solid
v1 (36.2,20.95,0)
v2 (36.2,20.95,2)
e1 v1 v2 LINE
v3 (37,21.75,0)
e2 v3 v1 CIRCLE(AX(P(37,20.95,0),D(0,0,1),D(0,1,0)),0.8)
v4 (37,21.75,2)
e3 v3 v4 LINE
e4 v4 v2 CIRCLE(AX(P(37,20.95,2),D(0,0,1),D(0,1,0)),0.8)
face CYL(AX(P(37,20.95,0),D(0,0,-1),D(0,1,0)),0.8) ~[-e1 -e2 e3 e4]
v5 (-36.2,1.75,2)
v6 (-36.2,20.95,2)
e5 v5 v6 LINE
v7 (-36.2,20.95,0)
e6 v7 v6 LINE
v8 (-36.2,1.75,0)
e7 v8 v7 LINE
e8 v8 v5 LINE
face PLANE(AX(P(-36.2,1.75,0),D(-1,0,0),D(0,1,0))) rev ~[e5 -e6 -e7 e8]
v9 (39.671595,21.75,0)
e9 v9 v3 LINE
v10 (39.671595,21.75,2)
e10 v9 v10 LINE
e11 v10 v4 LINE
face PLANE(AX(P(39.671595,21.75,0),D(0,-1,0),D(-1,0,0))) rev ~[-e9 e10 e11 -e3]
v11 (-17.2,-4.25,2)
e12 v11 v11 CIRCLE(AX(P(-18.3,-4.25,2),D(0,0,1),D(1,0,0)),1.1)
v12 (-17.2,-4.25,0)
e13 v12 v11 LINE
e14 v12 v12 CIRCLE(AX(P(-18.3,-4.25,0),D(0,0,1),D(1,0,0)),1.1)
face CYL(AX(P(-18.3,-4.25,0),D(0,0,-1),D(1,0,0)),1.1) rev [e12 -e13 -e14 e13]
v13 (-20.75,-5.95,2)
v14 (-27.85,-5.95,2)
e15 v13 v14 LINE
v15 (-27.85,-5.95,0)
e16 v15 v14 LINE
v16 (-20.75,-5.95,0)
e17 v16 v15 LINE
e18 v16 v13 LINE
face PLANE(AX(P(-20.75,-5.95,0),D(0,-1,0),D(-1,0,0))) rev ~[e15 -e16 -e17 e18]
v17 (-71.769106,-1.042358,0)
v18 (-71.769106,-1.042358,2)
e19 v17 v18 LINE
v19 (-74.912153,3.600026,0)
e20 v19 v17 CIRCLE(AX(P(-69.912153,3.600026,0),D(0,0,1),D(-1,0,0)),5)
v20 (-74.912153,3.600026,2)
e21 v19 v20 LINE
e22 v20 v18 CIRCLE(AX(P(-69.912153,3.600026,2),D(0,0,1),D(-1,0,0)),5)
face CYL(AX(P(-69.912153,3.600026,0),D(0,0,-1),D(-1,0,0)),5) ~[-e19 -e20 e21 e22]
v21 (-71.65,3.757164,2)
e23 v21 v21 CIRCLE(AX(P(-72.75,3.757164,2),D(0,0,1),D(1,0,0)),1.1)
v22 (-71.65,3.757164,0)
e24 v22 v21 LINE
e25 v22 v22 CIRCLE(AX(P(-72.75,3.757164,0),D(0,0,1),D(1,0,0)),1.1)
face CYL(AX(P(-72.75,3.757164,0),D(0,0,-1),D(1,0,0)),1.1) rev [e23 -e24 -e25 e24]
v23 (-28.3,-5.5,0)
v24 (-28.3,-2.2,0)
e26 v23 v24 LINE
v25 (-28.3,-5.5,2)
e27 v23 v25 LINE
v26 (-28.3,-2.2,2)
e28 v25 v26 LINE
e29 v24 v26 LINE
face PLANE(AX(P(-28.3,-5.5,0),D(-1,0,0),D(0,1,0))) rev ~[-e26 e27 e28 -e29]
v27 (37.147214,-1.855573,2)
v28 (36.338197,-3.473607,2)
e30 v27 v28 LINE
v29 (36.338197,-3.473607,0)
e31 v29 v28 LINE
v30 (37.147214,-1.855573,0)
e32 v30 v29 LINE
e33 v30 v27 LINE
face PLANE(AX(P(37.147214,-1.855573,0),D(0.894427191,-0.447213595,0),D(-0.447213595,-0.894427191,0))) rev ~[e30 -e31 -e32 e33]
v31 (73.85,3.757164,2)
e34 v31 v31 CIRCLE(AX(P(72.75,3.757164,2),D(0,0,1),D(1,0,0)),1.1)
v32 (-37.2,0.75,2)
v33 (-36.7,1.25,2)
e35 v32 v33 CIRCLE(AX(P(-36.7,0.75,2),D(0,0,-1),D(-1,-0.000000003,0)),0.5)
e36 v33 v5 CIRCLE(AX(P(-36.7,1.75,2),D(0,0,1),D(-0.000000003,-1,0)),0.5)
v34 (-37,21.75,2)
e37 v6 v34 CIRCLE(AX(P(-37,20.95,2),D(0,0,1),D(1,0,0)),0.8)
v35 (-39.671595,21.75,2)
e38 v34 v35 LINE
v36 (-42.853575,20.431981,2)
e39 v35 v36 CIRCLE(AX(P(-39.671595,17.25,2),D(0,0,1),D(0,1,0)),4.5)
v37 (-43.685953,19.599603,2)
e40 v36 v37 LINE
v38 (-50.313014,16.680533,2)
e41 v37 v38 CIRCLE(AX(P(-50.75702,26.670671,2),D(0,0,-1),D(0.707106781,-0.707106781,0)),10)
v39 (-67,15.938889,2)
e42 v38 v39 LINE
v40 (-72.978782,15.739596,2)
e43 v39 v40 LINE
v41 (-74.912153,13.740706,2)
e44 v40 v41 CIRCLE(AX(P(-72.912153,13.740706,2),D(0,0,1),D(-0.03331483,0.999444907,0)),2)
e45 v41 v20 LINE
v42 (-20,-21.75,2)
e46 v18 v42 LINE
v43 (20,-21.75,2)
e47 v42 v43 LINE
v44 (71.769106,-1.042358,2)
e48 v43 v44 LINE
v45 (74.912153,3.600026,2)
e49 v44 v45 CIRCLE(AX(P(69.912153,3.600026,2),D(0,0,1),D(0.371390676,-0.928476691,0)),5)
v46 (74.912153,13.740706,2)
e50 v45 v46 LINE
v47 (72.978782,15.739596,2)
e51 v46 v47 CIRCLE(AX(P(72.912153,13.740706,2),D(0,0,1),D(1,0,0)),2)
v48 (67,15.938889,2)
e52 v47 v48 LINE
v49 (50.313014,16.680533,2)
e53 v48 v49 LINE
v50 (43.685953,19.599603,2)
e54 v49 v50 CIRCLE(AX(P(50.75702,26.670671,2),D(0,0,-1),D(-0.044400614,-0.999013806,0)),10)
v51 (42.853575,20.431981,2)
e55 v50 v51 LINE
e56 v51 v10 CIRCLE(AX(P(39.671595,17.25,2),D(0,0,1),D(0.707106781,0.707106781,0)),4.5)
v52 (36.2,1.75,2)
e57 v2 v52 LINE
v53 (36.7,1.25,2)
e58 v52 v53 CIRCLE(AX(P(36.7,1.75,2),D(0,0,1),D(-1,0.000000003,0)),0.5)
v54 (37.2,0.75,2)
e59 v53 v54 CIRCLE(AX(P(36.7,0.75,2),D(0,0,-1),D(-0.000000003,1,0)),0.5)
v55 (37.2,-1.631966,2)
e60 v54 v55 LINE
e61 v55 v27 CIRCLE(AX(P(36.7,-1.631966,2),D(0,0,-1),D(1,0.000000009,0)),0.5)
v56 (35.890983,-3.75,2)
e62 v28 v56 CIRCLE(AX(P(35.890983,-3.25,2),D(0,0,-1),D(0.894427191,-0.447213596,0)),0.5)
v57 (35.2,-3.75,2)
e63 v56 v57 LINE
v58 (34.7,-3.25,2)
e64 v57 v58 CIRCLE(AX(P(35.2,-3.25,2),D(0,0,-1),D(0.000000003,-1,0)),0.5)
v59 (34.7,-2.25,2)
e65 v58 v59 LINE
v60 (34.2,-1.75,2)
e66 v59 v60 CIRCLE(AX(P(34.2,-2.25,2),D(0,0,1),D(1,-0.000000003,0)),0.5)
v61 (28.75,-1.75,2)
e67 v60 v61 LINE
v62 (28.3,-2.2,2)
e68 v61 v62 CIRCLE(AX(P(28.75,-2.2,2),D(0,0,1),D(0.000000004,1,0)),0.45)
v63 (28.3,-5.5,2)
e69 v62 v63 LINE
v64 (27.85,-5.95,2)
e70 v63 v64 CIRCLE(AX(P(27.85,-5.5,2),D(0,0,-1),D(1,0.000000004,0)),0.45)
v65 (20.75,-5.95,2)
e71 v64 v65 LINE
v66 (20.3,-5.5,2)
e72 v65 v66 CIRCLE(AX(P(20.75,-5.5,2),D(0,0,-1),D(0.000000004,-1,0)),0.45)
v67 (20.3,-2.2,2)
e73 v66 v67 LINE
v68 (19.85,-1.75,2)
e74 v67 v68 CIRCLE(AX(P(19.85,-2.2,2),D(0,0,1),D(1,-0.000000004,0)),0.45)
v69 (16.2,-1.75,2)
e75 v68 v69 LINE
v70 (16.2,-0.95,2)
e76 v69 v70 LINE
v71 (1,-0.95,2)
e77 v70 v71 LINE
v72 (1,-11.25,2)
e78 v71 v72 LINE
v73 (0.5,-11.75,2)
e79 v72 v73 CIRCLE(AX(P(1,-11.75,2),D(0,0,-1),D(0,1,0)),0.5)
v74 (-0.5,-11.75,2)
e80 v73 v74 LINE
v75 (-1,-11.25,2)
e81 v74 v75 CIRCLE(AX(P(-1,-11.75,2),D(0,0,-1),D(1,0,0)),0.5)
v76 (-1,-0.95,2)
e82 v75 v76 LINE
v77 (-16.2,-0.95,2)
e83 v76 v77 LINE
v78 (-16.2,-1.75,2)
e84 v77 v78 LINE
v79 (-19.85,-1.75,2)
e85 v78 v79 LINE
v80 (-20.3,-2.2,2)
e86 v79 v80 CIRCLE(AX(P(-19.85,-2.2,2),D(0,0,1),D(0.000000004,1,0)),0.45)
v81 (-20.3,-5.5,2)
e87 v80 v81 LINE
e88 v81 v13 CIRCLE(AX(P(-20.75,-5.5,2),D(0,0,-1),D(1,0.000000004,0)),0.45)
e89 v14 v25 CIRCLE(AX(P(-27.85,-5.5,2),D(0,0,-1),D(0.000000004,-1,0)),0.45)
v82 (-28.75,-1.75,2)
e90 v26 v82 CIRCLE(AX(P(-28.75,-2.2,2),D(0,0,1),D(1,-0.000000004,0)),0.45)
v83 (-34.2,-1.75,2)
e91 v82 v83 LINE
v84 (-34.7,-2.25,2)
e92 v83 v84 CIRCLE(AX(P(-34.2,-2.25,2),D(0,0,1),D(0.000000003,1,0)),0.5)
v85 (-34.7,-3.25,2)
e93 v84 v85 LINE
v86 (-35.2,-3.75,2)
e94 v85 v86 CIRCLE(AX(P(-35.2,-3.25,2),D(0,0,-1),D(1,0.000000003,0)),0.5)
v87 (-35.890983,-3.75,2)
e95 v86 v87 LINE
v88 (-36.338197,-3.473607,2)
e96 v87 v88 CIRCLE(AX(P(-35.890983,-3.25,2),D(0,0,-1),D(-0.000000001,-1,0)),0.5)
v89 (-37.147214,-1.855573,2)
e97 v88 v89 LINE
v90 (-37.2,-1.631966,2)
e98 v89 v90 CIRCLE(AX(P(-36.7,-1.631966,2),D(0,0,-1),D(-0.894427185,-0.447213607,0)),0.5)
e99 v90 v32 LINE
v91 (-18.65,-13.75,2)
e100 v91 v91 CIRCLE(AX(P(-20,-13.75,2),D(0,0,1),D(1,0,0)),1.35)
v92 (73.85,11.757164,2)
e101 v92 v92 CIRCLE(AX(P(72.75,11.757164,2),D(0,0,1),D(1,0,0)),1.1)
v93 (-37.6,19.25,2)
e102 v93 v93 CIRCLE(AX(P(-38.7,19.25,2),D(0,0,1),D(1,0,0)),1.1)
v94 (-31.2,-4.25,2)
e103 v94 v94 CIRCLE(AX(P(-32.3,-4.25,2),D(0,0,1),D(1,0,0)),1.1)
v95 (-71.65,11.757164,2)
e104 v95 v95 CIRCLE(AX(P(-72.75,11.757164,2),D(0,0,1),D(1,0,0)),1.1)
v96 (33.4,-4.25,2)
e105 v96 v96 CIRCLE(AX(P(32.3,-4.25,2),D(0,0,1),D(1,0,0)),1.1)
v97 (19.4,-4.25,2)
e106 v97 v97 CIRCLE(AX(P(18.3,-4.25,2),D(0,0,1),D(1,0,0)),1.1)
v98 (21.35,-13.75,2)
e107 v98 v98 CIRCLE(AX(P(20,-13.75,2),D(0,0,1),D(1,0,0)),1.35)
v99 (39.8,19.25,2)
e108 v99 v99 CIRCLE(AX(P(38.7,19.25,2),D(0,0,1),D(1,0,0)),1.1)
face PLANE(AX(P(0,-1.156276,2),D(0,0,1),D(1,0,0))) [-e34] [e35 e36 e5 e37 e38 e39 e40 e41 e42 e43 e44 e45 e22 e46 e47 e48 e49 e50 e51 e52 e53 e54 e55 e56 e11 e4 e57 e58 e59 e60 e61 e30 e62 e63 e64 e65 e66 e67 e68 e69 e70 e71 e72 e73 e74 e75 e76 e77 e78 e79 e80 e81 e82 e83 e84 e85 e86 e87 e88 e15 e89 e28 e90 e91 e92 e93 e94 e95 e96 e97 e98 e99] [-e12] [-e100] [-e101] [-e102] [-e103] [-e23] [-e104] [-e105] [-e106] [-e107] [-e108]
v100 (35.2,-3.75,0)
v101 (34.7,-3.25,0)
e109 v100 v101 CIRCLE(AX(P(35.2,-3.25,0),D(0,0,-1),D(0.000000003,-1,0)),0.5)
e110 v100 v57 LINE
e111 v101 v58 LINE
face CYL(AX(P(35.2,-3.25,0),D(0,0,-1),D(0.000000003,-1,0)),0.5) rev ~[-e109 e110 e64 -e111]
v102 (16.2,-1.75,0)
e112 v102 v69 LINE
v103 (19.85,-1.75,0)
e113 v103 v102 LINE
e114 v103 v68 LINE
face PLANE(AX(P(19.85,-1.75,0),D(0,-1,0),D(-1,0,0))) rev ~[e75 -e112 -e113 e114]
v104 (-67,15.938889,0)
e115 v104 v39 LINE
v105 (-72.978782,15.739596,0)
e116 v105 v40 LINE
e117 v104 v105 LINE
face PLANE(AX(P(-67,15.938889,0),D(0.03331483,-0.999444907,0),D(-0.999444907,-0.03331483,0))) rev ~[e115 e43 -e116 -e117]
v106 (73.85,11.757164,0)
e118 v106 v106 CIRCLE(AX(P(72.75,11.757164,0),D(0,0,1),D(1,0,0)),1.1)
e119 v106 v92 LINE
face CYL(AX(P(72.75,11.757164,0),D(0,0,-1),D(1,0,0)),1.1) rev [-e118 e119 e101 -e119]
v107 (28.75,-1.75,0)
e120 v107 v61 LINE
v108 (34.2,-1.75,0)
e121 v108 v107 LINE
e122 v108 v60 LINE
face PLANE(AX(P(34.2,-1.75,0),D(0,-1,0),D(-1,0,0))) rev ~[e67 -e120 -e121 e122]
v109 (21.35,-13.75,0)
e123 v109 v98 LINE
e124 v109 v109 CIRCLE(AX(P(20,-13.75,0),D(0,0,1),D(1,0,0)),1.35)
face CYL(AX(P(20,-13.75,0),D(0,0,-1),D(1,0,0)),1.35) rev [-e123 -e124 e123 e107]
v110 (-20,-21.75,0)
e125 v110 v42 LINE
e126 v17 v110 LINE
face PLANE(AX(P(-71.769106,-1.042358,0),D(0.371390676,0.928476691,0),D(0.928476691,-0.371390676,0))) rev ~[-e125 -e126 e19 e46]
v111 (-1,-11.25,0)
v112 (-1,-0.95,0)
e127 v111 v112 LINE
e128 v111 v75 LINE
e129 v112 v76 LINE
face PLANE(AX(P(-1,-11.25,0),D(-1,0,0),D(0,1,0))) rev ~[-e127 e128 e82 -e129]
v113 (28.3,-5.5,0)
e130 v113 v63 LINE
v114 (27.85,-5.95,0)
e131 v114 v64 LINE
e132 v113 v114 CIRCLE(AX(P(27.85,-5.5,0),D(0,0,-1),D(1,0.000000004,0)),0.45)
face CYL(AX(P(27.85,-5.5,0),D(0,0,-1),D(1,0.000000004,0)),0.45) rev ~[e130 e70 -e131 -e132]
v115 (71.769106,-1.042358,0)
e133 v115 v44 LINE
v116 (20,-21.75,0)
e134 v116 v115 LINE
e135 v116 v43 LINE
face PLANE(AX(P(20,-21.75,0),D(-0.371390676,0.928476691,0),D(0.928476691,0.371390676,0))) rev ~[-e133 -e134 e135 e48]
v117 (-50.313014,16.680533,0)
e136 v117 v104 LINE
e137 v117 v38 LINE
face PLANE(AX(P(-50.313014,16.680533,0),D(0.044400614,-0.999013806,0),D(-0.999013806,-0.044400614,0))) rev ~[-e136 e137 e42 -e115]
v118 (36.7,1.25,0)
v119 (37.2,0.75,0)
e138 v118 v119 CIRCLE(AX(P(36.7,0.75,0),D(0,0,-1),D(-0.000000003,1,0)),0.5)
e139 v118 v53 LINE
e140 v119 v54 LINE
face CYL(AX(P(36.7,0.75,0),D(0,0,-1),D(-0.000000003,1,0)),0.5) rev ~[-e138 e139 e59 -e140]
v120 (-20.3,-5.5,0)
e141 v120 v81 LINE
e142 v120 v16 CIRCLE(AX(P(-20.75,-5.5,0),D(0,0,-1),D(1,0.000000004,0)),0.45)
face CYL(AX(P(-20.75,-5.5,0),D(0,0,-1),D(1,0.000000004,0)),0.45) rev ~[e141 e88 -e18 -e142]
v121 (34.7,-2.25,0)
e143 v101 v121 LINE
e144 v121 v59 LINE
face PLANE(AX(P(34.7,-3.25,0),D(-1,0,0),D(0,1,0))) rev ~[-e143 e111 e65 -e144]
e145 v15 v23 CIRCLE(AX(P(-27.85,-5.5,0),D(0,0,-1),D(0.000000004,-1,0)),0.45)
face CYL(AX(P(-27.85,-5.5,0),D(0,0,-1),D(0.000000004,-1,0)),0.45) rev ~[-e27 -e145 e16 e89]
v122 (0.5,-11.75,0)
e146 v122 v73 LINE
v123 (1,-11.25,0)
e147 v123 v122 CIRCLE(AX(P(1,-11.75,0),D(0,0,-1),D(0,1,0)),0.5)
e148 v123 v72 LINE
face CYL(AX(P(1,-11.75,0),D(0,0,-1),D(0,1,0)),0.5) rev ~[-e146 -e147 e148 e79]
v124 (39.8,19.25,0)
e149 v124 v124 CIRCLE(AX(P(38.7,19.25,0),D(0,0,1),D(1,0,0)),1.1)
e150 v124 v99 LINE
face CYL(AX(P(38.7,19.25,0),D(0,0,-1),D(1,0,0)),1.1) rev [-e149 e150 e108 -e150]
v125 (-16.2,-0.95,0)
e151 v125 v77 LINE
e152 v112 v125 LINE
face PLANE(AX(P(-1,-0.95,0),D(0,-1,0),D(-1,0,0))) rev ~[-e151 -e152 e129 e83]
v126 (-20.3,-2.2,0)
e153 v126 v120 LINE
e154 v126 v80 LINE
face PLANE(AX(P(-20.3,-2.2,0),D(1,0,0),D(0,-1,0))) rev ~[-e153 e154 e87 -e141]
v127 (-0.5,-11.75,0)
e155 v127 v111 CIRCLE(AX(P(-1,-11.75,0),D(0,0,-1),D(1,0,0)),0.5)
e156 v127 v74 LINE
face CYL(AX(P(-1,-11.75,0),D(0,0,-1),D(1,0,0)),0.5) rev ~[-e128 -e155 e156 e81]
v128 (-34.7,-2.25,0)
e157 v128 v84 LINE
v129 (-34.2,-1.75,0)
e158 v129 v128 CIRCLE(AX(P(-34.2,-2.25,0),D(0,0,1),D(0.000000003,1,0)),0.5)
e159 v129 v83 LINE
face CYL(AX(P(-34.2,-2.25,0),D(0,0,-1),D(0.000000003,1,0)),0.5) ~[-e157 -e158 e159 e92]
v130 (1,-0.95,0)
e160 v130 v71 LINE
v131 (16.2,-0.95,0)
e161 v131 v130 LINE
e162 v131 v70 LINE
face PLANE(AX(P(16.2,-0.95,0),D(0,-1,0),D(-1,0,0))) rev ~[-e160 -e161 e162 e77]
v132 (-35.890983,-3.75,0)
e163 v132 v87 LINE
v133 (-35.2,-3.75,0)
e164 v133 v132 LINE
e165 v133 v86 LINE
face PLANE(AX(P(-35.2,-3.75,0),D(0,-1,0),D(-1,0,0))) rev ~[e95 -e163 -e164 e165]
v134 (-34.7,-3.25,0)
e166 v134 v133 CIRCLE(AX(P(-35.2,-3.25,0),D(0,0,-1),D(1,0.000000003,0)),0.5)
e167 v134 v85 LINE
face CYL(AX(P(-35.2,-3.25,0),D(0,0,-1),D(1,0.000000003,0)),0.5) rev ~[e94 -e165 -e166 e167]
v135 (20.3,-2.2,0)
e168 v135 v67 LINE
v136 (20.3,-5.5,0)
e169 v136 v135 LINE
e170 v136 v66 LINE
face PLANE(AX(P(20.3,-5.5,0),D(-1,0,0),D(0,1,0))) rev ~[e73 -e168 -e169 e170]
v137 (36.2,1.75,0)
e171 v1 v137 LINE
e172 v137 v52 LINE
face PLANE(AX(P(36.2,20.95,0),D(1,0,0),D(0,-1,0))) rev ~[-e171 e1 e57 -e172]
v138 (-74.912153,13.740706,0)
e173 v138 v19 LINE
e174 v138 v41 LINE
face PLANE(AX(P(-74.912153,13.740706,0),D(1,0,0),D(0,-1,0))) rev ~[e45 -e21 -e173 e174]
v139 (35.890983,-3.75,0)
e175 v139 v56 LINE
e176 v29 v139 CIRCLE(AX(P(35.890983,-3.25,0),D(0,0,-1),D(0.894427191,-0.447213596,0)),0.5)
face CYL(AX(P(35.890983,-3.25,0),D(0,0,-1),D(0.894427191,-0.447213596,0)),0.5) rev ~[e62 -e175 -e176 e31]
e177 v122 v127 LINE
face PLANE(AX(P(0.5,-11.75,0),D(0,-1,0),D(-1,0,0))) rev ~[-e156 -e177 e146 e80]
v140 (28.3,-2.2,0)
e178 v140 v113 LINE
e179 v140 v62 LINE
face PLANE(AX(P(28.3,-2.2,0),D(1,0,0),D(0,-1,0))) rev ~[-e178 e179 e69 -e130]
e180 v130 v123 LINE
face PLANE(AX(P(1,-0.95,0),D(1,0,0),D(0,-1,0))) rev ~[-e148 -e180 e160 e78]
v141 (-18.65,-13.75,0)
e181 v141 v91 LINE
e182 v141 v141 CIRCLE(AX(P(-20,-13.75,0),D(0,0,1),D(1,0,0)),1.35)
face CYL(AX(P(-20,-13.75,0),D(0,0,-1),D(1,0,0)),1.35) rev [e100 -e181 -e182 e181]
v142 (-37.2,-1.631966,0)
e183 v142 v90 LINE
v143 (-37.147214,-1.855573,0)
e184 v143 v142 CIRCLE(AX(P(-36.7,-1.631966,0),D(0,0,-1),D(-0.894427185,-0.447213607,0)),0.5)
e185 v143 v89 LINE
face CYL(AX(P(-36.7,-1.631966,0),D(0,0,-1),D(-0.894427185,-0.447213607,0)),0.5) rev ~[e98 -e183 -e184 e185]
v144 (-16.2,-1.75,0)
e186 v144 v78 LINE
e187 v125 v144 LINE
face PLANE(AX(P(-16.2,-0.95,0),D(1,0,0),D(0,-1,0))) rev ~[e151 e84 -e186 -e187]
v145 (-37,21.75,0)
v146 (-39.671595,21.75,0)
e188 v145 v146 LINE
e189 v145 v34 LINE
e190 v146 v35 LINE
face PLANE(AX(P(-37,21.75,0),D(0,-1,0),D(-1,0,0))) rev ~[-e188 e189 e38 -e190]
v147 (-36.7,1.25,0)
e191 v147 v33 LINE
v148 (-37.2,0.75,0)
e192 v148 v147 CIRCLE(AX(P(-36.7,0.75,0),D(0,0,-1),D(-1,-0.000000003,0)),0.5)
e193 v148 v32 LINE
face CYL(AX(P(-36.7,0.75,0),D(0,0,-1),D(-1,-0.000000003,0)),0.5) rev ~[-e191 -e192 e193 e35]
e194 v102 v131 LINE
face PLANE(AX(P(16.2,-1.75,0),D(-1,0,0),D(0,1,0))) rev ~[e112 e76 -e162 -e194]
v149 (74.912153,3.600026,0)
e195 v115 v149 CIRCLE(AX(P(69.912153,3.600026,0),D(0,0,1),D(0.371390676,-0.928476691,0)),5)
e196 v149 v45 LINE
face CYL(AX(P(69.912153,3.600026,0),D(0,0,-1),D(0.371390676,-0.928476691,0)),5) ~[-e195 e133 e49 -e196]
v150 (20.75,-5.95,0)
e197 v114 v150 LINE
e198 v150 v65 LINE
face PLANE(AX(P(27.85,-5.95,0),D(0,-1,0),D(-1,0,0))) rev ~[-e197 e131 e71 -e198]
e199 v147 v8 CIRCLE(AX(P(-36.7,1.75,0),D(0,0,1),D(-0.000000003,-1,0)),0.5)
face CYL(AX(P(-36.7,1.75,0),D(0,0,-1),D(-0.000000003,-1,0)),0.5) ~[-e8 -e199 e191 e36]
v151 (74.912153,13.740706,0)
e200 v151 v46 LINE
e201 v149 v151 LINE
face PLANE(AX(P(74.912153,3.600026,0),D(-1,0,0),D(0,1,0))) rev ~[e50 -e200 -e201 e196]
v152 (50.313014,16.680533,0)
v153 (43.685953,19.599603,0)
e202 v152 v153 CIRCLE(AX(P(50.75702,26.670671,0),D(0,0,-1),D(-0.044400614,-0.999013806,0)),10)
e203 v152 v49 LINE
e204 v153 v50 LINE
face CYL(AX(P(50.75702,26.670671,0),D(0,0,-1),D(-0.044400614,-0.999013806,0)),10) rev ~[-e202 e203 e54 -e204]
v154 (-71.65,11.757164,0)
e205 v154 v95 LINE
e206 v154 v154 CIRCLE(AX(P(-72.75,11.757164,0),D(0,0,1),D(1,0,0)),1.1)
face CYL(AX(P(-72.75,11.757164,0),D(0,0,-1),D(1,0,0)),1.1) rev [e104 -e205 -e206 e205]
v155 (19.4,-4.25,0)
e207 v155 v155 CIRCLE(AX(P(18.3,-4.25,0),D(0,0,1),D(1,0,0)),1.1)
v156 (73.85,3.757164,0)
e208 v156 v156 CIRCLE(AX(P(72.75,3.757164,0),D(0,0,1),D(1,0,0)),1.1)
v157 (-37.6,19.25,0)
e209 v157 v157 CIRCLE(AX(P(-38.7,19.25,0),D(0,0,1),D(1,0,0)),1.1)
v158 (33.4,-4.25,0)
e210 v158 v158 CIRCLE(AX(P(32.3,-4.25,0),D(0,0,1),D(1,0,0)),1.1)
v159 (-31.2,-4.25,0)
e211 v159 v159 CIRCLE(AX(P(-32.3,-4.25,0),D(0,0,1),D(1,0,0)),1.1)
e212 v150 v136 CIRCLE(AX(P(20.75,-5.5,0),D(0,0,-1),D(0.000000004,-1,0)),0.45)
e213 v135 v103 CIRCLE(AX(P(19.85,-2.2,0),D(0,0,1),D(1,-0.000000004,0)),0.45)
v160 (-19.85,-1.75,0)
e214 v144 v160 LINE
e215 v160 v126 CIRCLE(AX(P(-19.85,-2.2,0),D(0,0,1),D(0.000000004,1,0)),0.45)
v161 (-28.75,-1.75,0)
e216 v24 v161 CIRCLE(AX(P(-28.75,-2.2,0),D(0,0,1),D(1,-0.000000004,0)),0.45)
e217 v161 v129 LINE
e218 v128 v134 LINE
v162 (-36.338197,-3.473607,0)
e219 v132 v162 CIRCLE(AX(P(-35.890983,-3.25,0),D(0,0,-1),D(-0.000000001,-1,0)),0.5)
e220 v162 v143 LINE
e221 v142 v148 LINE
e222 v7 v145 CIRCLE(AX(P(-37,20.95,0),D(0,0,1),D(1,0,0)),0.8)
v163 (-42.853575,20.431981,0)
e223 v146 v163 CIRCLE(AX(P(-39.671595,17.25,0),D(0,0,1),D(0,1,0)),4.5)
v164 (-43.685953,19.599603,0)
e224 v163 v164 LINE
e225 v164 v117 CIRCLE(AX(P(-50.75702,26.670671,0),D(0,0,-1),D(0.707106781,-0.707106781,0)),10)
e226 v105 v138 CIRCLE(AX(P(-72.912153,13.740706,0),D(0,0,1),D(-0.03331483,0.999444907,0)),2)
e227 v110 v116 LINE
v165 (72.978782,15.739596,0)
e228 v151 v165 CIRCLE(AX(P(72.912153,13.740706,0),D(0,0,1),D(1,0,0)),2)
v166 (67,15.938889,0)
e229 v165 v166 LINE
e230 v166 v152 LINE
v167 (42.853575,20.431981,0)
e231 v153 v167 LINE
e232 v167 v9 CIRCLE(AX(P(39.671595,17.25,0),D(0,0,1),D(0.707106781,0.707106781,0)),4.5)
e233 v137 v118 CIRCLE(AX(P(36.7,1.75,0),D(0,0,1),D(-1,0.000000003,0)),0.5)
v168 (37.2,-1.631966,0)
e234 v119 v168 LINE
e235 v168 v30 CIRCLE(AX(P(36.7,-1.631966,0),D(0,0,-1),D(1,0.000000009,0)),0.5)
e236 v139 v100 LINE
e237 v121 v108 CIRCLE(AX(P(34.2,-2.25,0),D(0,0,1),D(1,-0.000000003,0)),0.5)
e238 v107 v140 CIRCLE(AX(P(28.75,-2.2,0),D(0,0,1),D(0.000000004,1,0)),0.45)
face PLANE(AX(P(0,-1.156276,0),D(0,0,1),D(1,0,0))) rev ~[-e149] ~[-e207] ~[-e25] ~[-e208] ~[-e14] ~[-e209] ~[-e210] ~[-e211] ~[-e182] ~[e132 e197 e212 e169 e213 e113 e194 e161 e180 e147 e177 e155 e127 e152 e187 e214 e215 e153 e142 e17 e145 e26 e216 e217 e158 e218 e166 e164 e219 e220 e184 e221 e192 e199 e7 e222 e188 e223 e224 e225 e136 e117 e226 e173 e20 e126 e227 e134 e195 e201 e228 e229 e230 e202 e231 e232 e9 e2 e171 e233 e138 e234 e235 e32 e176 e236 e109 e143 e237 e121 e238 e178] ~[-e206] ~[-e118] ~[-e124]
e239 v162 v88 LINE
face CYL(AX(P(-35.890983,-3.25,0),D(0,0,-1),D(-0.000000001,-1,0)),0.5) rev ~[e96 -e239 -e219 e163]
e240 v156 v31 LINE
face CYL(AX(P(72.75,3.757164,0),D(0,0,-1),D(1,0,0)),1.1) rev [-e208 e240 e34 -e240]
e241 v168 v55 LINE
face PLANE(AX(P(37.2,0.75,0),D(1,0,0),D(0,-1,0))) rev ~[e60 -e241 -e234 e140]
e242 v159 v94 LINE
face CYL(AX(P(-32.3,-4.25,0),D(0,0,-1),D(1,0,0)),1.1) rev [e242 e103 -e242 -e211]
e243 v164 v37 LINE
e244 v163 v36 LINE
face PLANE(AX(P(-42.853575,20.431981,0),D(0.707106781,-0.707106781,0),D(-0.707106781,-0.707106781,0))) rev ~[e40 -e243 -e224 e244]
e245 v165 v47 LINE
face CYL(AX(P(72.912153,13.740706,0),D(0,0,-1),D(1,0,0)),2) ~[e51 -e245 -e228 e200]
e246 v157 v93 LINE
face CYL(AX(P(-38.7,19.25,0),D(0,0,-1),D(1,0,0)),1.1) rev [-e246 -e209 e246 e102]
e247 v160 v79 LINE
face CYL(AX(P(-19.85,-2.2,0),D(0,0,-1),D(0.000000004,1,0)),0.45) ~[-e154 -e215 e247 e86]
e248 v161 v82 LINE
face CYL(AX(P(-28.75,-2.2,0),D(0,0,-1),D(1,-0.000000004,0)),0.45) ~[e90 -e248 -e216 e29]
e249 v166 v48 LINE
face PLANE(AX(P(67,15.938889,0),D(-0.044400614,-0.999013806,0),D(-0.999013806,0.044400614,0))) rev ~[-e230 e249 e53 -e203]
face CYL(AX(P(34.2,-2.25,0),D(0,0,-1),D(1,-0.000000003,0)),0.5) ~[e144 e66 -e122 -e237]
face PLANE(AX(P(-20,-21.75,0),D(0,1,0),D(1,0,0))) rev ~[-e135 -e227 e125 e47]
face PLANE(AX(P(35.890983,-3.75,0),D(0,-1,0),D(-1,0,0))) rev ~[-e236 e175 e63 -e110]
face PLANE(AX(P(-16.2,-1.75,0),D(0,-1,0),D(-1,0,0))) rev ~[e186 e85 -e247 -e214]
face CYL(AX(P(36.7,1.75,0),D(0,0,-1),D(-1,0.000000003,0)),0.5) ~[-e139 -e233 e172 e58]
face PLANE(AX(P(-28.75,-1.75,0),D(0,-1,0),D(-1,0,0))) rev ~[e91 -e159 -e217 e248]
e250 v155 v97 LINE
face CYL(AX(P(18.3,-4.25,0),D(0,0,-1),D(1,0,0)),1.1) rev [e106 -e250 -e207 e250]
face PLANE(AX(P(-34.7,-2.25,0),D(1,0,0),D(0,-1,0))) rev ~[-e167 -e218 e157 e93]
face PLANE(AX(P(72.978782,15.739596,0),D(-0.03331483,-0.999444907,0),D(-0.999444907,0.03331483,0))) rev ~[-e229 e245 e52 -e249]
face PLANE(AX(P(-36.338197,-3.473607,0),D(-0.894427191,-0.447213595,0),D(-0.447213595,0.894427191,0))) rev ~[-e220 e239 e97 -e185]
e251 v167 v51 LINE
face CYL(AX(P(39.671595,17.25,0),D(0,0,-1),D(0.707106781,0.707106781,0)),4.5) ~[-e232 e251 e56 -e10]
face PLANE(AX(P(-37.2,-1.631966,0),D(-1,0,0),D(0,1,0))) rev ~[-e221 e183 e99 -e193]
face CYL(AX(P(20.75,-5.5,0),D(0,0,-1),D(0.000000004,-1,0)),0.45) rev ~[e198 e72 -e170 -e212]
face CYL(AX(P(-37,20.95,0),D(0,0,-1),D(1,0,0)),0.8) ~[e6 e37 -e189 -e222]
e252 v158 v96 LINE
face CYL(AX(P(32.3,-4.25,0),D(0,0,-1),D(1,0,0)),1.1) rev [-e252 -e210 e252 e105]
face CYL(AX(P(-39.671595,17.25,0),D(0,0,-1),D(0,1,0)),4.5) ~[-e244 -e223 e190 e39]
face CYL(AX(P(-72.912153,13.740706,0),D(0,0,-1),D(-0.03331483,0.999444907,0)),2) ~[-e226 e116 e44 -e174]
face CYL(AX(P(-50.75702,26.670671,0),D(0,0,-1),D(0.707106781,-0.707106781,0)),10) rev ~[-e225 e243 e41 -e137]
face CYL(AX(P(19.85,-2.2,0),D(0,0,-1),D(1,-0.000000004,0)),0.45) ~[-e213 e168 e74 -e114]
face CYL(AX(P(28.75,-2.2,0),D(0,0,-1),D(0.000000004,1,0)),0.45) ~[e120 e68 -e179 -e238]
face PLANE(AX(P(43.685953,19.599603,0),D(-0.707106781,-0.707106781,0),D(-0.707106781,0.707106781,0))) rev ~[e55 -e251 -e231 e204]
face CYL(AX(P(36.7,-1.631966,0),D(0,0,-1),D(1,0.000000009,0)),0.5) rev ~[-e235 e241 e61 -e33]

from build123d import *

# Parameters (mm, degrees)
SKETCH_1_R      = 1.1
SKETCH_1_R_2    = 1.35
EXTRUDE_1_DEPTH = 2


with BuildPart() as part:
    # 草图1 → 凸台-拉伸1 (new body)
    with BuildSketch(Plane.XY):
        with BuildLine():
            Line((36.2, 20.95), (36.2, 1.75))
            ThreePointArc((36.2, 1.75), (36.346446609, 1.396446609), (36.7, 1.25))
            ThreePointArc((36.7, 1.25), (37.053553391, 1.103553391), (37.2, 0.75))
            Line((37.2, 0.75), (37.2, -1.631966011))
            ThreePointArc((37.2, -1.631966011), (37.186624495, -1.746842472), (37.147213595, -1.855572809))
            Line((37.147213595, -1.855572809), (36.338196601, -3.473606798))
            ThreePointArc((36.338196601, -3.473606798), (36.153848562, -3.675325404), (35.890983006, -3.75))
            Line((35.890983006, -3.75), (35.2, -3.75))
            ThreePointArc((35.2, -3.75), (34.846446609, -3.603553391), (34.7, -3.25))
            Line((34.7, -3.25), (34.7, -2.25))
            ThreePointArc((34.7, -2.25), (34.553553391, -1.896446609), (34.2, -1.75))
            Line((34.2, -1.75), (28.75, -1.75))
            ThreePointArc((28.75, -1.75), (28.431801948, -1.881801948), (28.3, -2.2))
            Line((28.3, -2.2), (28.3, -5.5))
            ThreePointArc((28.3, -5.5), (28.168198052, -5.818198052), (27.85, -5.95))
            Line((27.85, -5.95), (20.75, -5.95))
            ThreePointArc((20.75, -5.95), (20.431801948, -5.818198052), (20.3, -5.5))
            Line((20.3, -5.5), (20.3, -2.2))
            ThreePointArc((20.3, -2.2), (20.168198052, -1.881801948), (19.85, -1.75))
            Line((19.85, -1.75), (16.2, -1.75))
            Line((16.2, -1.75), (16.2, -0.95))
            Line((16.2, -0.95), (1, -0.95))
            Line((1, -0.95), (1, -11.25))
            ThreePointArc((1, -11.25), (1.353553391, -12.103553391), (0.5, -11.75))
            Line((0.5, -11.75), (-0.5, -11.75))
            ThreePointArc((-0.5, -11.75), (-1.353553391, -12.103553391), (-1, -11.25))
            Line((-1, -11.25), (-1, -0.95))
            Line((-1, -0.95), (-16.2, -0.95))
            Line((-16.2, -0.95), (-16.2, -1.75))
            Line((-16.2, -1.75), (-19.85, -1.75))
            ThreePointArc((-19.85, -1.75), (-20.168198052, -1.881801948), (-20.3, -2.2))
            Line((-20.3, -2.2), (-20.3, -5.5))
            ThreePointArc((-20.3, -5.5), (-20.431801948, -5.818198052), (-20.75, -5.95))
            Line((-20.75, -5.95), (-27.85, -5.95))
            ThreePointArc((-27.85, -5.95), (-28.168198052, -5.818198052), (-28.3, -5.5))
            Line((-28.3, -5.5), (-28.3, -2.2))
            ThreePointArc((-28.3, -2.2), (-28.431801948, -1.881801948), (-28.75, -1.75))
            Line((-28.75, -1.75), (-34.2, -1.75))
            ThreePointArc((-34.2, -1.75), (-34.553553391, -1.896446609), (-34.7, -2.25))
            Line((-34.7, -2.25), (-34.7, -3.25))
            ThreePointArc((-34.7, -3.25), (-34.846446609, -3.603553391), (-35.2, -3.75))
            Line((-35.2, -3.75), (-35.890983006, -3.75))
            ThreePointArc((-35.890983006, -3.75), (-36.153848562, -3.675325404), (-36.338196601, -3.473606798))
            Line((-36.338196601, -3.473606798), (-37.147213595, -1.855572809))
            ThreePointArc((-37.147213595, -1.855572809), (-37.186624495, -1.746842472), (-37.2, -1.631966011))
            Line((-37.2, -1.631966011), (-37.2, 0.75))
            ThreePointArc((-37.2, 0.75), (-37.053553391, 1.103553391), (-36.7, 1.25))
            ThreePointArc((-36.7, 1.25), (-36.346446609, 1.396446609), (-36.2, 1.75))
            Line((-36.2, 1.75), (-36.2, 20.95))
            ThreePointArc((-36.2, 20.95), (-36.434314575, 21.515685425), (-37, 21.75))
            Line((-37, 21.75), (-39.671594525, 21.75))
            ThreePointArc((-39.671594525, 21.75), (-41.393669971, 21.407457896), (-42.85357504, 20.431980515))
            Line((-42.85357504, 20.431980515), (-43.685952604, 19.599602951))
            ThreePointArc((-43.685952604, 19.599602951), (-46.725975031, 17.519131379), (-50.31301428, 16.680532699))
            Line((-50.31301428, 16.680532699), (-67, 15.938888889))
            Line((-67, 15.938888889), (-72.978782406, 15.739596142))
            ThreePointArc((-72.978782406, 15.739596142), (-74.349730451, 15.13116321), (-74.912152745, 13.740706328))
            Line((-74.912152745, 13.740706328), (-74.912152745, 3.600025905))
            ThreePointArc((-74.912152745, 3.600025905), (-74.052488898, 0.796881859), (-71.769106127, -1.042357549))
            Line((-71.769106127, -1.042357549), (-20, -21.75))
            Line((-20, -21.75), (20, -21.75))
            Line((20, -21.75), (71.769106127, -1.042357549))
            ThreePointArc((71.769106127, -1.042357549), (74.052488898, 0.796881859), (74.912152745, 3.600025905))
            Line((74.912152745, 3.600025905), (74.912152745, 13.740706328))
            ThreePointArc((74.912152745, 13.740706328), (74.349730451, 15.13116321), (72.978782406, 15.739596142))
            Line((72.978782406, 15.739596142), (67, 15.938888889))
            Line((67, 15.938888889), (50.31301428, 16.680532699))
            ThreePointArc((50.31301428, 16.680532699), (46.725975031, 17.519131379), (43.685952604, 19.599602951))
            Line((43.685952604, 19.599602951), (42.85357504, 20.431980515))
            ThreePointArc((42.85357504, 20.431980515), (41.393669971, 21.407457896), (39.671594525, 21.75))
            Line((39.671594525, 21.75), (37, 21.75))
            ThreePointArc((37, 21.75), (36.434314575, 21.515685425), (36.2, 20.95))
        make_face()
        with Locations((72.75, 3.75716439)):
            Circle(SKETCH_1_R, mode=Mode.SUBTRACT)
        with Locations((72.75, 11.75716439)):
            Circle(SKETCH_1_R, mode=Mode.SUBTRACT)
        with Locations((38.7, 19.25)):
            Circle(SKETCH_1_R, mode=Mode.SUBTRACT)
        with Locations((32.3, -4.25)):
            Circle(SKETCH_1_R, mode=Mode.SUBTRACT)
        with Locations((18.3, -4.25)):
            Circle(SKETCH_1_R, mode=Mode.SUBTRACT)
        with Locations((20, -13.75)):
            Circle(SKETCH_1_R_2, mode=Mode.SUBTRACT)
        with Locations((-18.3, -4.25)):
            Circle(SKETCH_1_R, mode=Mode.SUBTRACT)
        with Locations((-32.3, -4.25)):
            Circle(SKETCH_1_R, mode=Mode.SUBTRACT)
        with Locations((-20, -13.75)):
            Circle(SKETCH_1_R_2, mode=Mode.SUBTRACT)
        with Locations((-38.7, 19.25)):
            Circle(SKETCH_1_R, mode=Mode.SUBTRACT)
        with Locations((-72.75, 3.75716439)):
            Circle(SKETCH_1_R, mode=Mode.SUBTRACT)
        with Locations((-72.75, 11.75716439)):
            Circle(SKETCH_1_R, mode=Mode.SUBTRACT)
    extrude(amount=EXTRUDE_1_DEPTH)


solid = part.part
